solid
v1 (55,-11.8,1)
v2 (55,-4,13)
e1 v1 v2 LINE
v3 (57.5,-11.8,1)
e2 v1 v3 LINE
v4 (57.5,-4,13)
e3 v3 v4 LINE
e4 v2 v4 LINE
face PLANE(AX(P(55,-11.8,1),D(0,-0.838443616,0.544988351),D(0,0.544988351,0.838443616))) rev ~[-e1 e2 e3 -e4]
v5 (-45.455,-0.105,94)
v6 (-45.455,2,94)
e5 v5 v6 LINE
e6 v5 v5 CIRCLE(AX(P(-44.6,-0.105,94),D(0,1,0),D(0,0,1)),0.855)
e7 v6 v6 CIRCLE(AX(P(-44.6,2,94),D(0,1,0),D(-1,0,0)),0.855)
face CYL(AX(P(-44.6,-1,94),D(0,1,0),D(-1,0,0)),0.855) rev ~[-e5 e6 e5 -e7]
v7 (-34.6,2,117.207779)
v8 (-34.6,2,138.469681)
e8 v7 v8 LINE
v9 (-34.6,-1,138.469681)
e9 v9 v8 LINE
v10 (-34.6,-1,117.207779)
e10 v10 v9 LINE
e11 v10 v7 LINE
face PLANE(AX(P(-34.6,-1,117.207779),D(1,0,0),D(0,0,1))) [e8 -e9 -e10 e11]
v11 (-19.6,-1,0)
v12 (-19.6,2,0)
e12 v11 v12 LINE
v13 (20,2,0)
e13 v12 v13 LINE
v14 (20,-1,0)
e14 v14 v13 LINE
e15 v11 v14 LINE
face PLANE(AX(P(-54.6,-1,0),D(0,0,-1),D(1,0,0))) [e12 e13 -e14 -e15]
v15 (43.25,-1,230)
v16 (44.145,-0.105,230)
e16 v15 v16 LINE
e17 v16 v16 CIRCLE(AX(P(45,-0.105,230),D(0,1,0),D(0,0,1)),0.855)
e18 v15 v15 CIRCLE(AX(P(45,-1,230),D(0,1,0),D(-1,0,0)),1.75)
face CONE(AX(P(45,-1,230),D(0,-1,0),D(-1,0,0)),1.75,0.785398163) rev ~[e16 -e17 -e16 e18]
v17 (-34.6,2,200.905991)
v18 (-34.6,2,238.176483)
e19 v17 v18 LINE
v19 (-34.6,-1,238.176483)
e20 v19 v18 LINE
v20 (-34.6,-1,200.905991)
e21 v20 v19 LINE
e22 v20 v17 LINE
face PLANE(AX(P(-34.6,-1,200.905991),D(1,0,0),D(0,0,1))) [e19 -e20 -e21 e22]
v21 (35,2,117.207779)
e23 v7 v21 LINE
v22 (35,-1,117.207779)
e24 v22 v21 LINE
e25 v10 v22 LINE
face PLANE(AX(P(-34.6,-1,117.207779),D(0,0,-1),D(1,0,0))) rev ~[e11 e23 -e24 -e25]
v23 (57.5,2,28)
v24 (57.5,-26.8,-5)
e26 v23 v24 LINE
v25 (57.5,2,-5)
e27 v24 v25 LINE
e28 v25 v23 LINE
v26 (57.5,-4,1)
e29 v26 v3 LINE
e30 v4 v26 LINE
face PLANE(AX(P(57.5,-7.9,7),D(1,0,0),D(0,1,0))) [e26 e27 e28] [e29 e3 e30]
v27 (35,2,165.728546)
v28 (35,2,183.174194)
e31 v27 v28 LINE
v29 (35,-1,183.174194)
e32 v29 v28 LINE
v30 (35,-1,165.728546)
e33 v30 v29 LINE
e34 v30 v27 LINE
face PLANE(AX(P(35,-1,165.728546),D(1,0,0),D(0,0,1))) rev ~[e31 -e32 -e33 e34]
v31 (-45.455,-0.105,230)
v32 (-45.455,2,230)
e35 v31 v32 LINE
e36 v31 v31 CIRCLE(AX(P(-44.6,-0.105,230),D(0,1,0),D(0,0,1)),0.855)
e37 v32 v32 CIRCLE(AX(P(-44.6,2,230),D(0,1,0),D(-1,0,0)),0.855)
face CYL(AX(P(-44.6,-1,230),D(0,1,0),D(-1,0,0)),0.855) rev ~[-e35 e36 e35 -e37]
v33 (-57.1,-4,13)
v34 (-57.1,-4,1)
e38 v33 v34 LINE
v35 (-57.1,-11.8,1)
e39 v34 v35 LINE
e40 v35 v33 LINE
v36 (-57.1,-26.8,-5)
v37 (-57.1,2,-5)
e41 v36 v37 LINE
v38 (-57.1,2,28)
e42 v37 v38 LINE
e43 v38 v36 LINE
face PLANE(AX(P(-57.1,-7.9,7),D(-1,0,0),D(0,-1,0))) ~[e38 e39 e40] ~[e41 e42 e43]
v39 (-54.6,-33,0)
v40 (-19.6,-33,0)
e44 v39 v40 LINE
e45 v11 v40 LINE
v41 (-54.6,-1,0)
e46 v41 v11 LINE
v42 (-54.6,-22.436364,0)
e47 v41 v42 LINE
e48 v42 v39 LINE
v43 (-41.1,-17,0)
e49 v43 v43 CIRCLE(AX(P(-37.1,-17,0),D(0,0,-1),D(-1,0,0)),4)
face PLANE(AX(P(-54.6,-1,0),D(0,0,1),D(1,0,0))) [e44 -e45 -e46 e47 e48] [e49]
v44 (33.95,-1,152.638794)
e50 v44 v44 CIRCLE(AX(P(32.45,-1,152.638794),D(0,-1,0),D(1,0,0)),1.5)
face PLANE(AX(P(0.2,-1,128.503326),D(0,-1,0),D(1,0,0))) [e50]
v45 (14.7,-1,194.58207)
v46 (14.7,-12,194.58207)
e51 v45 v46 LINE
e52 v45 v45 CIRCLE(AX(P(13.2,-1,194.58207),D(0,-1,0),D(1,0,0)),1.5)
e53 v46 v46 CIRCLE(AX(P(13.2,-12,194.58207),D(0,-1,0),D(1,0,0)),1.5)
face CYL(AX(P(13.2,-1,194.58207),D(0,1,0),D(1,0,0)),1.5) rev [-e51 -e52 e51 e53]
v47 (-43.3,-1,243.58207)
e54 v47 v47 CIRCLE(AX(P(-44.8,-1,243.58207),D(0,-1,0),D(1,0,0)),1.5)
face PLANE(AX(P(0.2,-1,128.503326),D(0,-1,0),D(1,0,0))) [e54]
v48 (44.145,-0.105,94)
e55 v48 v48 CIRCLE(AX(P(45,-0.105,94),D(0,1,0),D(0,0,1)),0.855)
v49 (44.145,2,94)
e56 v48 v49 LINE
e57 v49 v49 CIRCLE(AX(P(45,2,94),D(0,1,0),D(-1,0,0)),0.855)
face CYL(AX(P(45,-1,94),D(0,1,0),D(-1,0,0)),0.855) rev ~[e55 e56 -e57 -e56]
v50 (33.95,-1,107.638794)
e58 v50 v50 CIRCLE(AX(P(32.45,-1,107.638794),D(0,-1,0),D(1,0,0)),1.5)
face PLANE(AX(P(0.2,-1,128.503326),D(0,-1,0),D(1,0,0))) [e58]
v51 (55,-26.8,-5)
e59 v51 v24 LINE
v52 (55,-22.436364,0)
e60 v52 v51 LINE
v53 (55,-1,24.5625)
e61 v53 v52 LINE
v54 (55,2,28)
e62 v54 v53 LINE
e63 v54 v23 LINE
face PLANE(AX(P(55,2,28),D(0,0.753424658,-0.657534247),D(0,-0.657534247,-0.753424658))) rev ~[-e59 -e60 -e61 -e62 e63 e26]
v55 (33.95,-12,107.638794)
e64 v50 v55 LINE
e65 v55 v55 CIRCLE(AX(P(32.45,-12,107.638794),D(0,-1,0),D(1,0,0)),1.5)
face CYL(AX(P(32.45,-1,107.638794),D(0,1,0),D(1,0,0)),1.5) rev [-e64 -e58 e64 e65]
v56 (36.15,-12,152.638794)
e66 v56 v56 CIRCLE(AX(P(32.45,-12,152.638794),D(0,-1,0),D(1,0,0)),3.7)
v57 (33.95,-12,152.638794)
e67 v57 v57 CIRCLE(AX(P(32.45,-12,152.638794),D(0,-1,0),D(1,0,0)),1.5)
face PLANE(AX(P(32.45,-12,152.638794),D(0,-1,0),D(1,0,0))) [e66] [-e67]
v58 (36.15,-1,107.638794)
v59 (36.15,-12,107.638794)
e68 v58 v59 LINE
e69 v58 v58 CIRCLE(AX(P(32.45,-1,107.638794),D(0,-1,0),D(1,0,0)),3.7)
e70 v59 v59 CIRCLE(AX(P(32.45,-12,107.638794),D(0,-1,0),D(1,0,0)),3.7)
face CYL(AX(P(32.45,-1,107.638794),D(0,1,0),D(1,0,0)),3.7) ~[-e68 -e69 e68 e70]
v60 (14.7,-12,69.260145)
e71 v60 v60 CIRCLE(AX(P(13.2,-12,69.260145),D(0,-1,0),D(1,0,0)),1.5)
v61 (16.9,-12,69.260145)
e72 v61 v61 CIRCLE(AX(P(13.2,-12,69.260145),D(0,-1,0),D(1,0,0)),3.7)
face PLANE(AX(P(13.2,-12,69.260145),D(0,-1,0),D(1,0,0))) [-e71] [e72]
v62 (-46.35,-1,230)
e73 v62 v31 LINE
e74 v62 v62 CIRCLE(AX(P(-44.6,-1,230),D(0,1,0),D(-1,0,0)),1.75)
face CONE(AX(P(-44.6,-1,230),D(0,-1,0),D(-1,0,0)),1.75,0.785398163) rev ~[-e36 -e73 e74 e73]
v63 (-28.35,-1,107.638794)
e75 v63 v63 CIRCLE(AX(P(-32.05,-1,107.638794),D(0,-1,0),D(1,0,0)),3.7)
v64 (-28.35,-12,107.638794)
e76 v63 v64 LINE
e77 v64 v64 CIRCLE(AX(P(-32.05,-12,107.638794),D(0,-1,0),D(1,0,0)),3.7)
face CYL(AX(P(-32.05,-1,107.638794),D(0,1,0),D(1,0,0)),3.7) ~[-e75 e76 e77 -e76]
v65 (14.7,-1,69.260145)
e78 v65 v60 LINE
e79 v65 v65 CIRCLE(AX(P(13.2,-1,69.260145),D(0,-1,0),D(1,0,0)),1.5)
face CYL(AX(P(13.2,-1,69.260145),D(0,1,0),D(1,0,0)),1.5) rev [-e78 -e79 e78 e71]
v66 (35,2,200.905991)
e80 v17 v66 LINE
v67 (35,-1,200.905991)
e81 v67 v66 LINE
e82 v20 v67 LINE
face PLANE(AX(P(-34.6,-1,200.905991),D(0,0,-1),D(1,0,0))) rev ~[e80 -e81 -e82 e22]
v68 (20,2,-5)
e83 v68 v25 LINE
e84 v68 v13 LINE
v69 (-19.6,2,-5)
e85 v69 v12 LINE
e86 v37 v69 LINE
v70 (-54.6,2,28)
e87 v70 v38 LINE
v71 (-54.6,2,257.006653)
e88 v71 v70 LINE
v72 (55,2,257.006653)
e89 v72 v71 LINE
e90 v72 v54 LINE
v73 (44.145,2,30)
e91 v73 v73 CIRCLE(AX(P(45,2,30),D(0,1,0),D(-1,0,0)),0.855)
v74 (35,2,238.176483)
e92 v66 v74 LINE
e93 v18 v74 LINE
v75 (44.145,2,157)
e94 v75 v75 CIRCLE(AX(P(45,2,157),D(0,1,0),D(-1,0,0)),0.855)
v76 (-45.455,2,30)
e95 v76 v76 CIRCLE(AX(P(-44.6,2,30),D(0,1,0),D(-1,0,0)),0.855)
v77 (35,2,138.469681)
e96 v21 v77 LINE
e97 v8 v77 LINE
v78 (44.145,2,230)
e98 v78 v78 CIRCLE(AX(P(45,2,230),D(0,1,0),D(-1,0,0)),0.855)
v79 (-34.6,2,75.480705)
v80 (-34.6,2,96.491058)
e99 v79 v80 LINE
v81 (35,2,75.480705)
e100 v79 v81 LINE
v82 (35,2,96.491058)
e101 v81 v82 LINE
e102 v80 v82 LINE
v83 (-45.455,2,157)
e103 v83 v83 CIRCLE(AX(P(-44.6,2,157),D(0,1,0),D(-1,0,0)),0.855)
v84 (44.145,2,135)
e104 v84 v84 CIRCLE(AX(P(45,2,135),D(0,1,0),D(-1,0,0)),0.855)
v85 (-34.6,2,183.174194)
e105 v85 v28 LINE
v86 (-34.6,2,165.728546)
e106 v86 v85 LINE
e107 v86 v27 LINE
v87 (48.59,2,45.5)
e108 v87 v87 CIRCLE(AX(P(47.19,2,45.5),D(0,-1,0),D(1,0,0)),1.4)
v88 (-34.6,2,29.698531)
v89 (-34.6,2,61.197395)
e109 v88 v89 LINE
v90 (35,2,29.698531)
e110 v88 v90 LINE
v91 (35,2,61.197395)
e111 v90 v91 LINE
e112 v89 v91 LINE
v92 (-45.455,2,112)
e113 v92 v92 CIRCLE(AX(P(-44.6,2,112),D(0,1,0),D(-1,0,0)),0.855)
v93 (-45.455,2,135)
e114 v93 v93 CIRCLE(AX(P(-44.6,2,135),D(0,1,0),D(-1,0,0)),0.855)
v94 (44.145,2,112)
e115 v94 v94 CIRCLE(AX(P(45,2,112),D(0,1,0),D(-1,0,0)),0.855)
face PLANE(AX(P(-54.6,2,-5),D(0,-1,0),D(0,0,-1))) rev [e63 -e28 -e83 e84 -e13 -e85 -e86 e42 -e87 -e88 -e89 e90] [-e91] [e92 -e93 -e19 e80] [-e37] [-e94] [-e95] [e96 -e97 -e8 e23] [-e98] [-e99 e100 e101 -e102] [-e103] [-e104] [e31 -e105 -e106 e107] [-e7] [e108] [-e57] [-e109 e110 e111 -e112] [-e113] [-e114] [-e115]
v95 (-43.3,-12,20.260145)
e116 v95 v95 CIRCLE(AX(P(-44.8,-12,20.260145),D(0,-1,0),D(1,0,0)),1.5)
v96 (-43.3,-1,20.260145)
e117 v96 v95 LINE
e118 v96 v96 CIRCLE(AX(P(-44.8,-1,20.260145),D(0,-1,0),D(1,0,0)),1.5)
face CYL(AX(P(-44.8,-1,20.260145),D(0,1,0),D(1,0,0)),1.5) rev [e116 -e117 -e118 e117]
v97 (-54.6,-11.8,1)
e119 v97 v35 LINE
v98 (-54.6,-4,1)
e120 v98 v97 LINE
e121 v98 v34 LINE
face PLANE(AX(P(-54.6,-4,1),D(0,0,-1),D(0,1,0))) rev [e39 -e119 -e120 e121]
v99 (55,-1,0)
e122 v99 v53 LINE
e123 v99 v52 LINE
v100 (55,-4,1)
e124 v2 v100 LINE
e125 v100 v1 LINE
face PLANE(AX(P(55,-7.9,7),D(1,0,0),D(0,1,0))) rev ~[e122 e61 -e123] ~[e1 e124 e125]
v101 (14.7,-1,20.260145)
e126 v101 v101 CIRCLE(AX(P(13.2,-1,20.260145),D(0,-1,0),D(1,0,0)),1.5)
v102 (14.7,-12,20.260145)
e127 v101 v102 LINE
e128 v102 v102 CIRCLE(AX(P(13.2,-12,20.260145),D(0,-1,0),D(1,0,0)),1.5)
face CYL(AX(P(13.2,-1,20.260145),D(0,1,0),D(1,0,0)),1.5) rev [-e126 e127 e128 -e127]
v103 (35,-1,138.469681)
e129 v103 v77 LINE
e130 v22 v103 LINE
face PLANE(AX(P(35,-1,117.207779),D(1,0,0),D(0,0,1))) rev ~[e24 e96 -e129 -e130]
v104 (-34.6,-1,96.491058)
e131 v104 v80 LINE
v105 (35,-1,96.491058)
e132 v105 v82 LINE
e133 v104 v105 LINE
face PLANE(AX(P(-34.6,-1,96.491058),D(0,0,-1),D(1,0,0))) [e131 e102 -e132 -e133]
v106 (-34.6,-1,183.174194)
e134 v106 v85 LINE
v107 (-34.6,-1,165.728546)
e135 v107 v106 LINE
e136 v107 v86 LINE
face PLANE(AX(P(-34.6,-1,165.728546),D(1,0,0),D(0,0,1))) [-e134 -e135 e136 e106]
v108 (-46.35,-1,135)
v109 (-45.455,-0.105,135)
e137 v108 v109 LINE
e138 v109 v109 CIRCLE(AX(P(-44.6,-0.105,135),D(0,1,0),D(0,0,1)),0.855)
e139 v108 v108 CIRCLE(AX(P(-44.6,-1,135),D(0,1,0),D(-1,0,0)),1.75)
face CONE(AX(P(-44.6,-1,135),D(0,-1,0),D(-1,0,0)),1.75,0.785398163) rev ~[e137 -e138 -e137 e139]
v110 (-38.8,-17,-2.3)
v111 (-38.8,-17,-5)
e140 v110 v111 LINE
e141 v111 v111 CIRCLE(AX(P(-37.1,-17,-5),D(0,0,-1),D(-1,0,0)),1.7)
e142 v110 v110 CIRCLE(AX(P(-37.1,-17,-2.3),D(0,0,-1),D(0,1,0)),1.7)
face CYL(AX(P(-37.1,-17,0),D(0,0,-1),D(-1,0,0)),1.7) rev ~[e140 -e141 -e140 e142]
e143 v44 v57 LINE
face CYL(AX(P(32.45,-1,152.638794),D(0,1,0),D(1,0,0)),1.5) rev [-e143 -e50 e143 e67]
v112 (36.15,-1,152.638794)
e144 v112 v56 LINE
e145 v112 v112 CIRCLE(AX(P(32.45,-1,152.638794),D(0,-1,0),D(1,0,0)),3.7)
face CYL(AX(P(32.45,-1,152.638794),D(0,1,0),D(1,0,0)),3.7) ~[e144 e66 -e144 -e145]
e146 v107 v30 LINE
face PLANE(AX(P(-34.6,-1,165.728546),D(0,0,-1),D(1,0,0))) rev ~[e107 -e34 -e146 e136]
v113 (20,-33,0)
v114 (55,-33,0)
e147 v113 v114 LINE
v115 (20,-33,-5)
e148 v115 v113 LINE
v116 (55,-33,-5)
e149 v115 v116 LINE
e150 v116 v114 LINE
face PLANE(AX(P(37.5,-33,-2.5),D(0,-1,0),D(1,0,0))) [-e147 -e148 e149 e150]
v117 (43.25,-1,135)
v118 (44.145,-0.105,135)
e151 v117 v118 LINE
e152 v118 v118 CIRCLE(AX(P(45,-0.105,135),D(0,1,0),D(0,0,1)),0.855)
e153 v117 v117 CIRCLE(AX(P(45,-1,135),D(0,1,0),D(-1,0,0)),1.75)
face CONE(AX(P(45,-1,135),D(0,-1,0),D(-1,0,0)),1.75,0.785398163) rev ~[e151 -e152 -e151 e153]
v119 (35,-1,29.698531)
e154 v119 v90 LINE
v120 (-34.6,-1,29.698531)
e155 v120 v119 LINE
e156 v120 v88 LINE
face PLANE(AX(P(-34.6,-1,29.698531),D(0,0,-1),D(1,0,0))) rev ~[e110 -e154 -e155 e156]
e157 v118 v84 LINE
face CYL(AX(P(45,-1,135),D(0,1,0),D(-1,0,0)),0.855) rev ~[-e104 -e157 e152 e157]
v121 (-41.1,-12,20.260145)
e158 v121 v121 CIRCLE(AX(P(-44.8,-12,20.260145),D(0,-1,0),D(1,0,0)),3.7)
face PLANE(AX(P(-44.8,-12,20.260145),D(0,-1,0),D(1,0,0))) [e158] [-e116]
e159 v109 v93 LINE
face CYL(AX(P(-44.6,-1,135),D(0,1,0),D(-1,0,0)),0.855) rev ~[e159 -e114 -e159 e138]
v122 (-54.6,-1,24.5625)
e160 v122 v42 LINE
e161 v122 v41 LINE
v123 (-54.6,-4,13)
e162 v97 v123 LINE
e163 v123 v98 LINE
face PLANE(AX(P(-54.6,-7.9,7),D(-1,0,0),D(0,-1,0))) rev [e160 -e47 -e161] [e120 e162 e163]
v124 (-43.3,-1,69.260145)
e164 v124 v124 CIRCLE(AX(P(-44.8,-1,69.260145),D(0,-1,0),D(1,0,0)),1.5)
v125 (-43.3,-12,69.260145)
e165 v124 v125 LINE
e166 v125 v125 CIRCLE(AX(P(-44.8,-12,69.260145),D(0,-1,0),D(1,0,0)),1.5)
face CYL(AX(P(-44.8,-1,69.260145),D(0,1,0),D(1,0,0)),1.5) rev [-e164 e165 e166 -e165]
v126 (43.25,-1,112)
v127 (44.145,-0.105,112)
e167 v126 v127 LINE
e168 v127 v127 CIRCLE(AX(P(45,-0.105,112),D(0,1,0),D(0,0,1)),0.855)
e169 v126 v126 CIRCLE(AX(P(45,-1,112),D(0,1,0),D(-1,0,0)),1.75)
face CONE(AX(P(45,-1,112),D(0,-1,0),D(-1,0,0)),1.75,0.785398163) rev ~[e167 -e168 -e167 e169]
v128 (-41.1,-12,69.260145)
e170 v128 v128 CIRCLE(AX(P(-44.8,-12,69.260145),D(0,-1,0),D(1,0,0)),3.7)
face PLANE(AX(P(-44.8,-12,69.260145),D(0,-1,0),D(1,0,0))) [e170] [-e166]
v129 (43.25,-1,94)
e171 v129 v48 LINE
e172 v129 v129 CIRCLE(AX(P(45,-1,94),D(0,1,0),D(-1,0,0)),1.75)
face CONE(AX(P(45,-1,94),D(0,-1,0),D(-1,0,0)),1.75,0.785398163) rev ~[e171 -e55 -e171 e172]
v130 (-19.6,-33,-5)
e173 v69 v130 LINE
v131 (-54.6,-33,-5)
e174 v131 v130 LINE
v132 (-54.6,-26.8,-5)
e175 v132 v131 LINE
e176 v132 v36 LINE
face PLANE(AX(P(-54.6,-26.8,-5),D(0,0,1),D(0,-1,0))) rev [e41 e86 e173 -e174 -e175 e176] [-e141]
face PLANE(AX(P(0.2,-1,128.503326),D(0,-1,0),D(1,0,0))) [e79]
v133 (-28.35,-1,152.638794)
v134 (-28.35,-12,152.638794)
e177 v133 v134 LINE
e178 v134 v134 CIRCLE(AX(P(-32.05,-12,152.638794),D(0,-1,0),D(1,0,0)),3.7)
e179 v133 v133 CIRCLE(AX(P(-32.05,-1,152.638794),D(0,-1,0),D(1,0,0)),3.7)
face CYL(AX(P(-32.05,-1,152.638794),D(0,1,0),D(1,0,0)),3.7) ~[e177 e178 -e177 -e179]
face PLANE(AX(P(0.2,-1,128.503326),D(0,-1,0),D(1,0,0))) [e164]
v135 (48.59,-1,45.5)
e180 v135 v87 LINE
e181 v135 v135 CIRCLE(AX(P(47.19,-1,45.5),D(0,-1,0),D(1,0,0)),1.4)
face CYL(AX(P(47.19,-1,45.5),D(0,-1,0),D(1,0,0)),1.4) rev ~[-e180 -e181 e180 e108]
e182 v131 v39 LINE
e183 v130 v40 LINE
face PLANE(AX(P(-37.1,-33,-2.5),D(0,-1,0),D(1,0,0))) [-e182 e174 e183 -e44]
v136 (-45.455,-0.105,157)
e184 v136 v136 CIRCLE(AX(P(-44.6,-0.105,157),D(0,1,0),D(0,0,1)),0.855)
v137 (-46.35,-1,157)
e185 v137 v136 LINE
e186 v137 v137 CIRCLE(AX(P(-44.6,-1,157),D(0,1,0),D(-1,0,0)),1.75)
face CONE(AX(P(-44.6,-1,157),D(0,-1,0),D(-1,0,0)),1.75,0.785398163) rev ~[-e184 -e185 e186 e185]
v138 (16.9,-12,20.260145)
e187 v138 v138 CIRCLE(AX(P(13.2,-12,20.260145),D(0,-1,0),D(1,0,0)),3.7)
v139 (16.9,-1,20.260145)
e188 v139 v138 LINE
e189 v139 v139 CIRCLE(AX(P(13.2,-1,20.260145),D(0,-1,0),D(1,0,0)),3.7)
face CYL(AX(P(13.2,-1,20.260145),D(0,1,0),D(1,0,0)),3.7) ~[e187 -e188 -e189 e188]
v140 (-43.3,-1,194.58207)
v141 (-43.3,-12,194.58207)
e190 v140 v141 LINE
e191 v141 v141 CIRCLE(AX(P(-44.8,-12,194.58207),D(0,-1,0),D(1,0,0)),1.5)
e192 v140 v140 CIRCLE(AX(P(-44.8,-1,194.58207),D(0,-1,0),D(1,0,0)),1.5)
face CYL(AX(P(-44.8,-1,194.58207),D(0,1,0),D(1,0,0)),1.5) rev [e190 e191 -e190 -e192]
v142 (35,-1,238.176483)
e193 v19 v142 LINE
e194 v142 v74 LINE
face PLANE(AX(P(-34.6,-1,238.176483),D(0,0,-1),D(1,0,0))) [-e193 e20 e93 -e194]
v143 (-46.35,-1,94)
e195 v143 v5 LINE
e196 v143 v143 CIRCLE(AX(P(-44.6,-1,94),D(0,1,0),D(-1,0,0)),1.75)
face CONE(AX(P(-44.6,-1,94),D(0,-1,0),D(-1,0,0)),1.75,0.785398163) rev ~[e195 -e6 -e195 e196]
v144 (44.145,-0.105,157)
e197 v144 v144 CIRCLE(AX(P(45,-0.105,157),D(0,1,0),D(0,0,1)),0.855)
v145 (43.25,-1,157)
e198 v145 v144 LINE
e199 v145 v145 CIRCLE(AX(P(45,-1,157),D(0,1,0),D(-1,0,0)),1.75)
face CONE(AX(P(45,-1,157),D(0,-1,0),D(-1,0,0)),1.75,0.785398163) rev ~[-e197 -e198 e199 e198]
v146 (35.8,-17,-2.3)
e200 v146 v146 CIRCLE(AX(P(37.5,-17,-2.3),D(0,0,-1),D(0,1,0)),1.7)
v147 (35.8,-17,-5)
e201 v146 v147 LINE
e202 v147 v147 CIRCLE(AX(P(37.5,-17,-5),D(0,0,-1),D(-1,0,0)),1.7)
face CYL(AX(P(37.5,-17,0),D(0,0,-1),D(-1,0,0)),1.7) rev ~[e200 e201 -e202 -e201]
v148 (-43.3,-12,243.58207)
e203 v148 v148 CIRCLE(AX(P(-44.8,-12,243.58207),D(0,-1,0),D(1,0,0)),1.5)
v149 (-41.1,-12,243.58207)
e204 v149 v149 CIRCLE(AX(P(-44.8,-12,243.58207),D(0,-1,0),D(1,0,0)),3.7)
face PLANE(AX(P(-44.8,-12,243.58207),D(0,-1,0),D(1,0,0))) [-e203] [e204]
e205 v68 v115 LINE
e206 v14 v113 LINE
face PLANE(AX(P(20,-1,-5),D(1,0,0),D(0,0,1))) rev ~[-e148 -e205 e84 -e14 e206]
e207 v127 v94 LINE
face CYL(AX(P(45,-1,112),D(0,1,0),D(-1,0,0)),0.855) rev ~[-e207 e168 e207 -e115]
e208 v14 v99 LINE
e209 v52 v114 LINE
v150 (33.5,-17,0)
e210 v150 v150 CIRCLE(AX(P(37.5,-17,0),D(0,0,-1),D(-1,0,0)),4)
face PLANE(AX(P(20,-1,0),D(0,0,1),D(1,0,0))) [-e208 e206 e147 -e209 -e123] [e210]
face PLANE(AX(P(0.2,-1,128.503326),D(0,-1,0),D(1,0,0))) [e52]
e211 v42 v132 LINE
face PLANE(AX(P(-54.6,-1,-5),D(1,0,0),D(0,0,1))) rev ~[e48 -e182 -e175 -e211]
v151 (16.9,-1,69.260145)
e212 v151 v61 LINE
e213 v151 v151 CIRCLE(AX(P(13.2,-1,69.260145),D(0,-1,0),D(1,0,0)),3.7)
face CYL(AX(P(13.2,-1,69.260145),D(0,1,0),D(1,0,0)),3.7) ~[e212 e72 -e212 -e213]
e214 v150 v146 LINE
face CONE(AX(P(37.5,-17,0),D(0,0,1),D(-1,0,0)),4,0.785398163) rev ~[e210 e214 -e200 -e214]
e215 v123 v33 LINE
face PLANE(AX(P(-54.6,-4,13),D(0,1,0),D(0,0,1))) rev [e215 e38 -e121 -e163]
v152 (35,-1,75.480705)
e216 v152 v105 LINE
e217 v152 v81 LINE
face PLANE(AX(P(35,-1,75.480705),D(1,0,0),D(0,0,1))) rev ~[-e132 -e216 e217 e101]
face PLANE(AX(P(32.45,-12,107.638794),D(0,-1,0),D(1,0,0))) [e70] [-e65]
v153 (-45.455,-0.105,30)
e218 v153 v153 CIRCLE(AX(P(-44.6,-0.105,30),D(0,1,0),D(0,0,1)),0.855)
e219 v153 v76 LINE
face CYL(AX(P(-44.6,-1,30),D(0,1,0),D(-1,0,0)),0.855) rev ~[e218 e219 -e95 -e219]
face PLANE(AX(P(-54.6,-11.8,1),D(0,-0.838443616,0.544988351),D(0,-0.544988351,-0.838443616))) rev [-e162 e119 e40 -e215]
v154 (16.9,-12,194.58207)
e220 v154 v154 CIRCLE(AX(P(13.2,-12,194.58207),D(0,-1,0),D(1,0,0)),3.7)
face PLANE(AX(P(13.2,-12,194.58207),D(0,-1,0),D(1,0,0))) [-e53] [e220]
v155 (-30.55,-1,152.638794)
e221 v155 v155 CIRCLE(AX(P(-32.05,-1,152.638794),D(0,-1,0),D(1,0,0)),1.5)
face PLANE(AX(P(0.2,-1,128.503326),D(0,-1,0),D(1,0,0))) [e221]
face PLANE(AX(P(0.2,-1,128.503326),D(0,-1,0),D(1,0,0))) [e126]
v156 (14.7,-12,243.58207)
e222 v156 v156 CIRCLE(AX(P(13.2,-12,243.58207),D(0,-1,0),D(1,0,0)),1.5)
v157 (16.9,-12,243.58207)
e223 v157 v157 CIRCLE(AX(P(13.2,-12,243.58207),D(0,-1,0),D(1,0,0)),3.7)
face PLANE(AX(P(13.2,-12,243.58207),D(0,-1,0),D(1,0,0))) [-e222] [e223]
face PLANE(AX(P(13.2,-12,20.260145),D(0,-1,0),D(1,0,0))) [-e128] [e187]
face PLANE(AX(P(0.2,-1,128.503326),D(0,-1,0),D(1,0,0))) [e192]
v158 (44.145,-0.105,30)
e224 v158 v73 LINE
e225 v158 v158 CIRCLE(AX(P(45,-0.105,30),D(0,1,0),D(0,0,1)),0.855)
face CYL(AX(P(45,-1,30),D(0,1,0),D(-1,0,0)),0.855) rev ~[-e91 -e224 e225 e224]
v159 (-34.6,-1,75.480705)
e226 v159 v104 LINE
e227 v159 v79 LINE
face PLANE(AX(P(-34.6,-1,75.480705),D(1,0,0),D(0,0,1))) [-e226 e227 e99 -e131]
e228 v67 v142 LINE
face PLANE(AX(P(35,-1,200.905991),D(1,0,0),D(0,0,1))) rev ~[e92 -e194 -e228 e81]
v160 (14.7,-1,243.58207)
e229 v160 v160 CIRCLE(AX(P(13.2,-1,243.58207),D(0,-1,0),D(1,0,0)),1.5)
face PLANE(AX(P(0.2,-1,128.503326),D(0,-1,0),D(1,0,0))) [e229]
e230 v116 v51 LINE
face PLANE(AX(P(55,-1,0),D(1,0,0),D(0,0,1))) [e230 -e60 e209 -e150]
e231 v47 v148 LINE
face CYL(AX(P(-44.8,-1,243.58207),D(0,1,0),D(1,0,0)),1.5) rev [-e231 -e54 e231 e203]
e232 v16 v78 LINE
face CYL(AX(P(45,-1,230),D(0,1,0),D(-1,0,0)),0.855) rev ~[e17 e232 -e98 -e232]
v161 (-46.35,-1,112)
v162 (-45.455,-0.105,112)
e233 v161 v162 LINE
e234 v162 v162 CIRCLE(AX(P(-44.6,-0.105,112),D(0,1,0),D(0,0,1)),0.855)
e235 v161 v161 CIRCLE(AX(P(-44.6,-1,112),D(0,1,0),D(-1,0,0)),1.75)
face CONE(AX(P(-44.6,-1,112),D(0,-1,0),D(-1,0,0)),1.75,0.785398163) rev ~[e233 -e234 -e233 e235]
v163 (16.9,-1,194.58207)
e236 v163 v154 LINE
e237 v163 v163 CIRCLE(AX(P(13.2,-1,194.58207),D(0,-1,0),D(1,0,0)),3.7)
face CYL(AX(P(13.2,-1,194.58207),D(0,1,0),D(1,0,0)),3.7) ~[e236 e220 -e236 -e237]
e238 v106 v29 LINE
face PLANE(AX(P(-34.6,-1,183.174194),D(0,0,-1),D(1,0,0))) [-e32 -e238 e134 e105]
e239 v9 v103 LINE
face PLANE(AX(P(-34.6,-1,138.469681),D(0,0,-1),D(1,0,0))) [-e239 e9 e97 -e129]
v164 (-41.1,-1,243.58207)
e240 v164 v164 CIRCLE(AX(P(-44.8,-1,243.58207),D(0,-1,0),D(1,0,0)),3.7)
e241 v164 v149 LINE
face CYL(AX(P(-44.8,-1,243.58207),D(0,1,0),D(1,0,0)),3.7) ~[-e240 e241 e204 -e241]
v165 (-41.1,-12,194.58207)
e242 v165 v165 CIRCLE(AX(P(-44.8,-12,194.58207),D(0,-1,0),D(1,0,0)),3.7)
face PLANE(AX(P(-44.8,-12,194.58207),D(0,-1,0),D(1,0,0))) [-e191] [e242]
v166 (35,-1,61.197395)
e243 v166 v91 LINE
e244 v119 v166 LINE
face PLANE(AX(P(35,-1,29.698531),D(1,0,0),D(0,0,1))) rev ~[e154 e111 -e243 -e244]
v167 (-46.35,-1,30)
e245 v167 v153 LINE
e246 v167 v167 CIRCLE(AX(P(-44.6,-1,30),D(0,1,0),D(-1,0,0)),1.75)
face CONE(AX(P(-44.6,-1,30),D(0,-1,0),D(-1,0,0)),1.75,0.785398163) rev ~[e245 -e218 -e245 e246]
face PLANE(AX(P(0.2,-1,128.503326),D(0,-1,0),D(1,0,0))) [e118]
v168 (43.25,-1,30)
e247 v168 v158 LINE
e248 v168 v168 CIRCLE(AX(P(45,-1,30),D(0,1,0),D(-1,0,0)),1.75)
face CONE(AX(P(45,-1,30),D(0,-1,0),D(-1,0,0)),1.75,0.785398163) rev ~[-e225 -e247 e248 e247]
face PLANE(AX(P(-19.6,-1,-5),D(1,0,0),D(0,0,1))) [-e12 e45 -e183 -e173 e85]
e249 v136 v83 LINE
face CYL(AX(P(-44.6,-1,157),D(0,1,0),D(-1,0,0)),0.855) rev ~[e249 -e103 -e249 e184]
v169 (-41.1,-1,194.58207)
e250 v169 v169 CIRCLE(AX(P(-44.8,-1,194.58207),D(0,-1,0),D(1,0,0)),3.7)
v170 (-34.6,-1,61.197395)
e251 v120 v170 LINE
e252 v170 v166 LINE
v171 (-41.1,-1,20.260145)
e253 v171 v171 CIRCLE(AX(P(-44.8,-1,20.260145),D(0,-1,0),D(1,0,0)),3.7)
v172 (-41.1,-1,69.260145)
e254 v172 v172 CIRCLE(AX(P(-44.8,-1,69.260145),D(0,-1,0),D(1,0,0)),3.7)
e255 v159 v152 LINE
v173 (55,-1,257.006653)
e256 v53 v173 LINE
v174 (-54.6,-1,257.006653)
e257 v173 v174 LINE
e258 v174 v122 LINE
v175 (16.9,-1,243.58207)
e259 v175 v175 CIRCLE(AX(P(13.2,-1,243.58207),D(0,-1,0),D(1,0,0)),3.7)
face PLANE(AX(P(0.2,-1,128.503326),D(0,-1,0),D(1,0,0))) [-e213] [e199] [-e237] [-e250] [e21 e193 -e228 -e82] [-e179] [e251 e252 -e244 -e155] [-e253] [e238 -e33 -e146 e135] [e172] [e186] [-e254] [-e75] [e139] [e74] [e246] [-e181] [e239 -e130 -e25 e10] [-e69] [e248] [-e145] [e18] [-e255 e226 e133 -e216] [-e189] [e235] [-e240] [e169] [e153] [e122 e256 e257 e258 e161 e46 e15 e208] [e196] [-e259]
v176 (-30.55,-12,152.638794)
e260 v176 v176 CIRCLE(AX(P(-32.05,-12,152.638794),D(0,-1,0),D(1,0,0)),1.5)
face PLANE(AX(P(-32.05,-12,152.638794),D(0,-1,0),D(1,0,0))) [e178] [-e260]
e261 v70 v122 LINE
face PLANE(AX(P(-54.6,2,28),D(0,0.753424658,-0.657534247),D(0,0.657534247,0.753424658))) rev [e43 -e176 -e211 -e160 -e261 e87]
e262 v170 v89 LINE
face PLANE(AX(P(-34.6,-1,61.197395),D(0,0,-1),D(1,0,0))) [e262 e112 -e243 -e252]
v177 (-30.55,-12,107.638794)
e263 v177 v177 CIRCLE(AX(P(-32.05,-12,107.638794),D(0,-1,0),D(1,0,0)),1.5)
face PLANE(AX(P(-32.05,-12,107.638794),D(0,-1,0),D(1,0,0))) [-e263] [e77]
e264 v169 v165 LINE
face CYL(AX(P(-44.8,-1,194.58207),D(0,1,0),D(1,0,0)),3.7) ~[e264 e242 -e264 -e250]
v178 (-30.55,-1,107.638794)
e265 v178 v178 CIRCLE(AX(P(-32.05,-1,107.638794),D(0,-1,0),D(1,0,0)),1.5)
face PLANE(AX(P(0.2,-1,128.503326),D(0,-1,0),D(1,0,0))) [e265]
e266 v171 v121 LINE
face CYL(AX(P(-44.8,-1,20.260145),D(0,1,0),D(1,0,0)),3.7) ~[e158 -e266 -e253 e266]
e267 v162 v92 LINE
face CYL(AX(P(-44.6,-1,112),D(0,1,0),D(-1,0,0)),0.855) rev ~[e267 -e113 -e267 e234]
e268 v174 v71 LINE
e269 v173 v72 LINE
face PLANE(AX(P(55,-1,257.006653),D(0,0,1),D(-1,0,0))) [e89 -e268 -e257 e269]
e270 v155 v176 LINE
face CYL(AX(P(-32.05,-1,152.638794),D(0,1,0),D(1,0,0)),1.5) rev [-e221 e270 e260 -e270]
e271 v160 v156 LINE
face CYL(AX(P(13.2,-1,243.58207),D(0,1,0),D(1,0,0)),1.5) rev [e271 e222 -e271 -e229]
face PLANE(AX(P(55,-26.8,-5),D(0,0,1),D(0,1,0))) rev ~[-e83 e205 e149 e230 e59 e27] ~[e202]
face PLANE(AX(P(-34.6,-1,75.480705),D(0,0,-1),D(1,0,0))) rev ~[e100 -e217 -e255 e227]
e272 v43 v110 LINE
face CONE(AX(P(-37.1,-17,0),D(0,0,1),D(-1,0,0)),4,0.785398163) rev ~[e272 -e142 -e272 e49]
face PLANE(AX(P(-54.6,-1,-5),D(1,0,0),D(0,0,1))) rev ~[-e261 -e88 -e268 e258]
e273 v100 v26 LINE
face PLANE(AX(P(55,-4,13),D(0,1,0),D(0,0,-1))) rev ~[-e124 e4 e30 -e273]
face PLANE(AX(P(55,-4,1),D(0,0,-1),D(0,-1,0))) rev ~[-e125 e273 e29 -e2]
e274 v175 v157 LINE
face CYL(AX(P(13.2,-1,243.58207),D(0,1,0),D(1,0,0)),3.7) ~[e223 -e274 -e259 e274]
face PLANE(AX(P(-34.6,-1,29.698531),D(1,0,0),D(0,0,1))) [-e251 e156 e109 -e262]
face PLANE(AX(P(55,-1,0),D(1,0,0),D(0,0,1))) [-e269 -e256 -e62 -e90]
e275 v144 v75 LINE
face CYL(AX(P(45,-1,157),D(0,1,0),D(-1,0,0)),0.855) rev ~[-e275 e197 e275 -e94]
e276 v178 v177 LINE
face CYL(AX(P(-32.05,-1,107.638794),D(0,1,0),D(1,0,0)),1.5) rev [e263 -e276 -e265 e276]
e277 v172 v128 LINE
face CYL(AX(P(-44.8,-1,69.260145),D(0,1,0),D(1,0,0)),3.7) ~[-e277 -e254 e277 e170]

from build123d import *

# Parameters (mm, degrees)
SKETCH_R            = 1.4
SKETCH_W            = 69.6
SKETCH_H            = 21.261902
SKETCH_H_2          = 37.270492
SKETCH_H_3          = 17.445648
SKETCH_H_4          = 21.010353
SKETCH_H_5          = 31.498865
PAD_DEPTH           = 3
SKETCH001_R         = 3.7
SKETCH001_R_2       = 1.5
PAD001_DEPTH        = 11
SKETCH002_W         = 35
SKETCH002_H         = 5
PAD002_DEPTH        = 32
PAD002_DEPTH_BACK   = 3
HOLE_D              = 3.4
HOLE_DEPTH          = 25
HOLE_CSINK_D        = 8
HOLE_CSINK_ANGLE    = 90
PAD003_DEPTH        = 2.5
HOLE002_D           = 1.71
HOLE002_DEPTH       = 25
HOLE002_CSINK_D     = 3.5
HOLE002_CSINK_ANGLE = 90


with BuildPart() as part:
    # Sketch → Pad (new body)
    with BuildSketch(Plane.XZ):
        Polygon((-54.8, 257.006653), (-54.8, 20.406653), (-54.8, 0), (54.8, 0), (54.8, 20.406653), (54.8, 257.006653), align=None)
        with Locations((46.99, 45.5)):
            Circle(SKETCH_R, mode=Mode.SUBTRACT)
        with Locations((0, 127.83873)):
            Rectangle(SKETCH_W, SKETCH_H, mode=Mode.SUBTRACT)
        with Locations((0, 219.541237)):
            Rectangle(SKETCH_W, SKETCH_H_2, mode=Mode.SUBTRACT)
        with Locations((0, 174.45137)):
            Rectangle(SKETCH_W, SKETCH_H_3, mode=Mode.SUBTRACT)
        with Locations((0, 85.985882)):
            Rectangle(SKETCH_W, SKETCH_H_4, mode=Mode.SUBTRACT)
        with Locations((0, 45.447963)):
            Rectangle(SKETCH_W, SKETCH_H_5, mode=Mode.SUBTRACT)
    extrude(amount=-PAD_DEPTH)

    # Sketch001 → Pad001 (join)
    with BuildSketch(Plane.XZ):
        with Locations((-45, 243.58207)):
            Circle(SKETCH001_R)
        with Locations((-45, 243.58207)):
            Circle(SKETCH001_R_2, mode=Mode.SUBTRACT)
        with Locations((13, 243.58207)):
            Circle(SKETCH001_R)
        with Locations((13, 243.58207)):
            Circle(SKETCH001_R_2, mode=Mode.SUBTRACT)
        with Locations((-45, 194.58207)):
            Circle(SKETCH001_R)
        with Locations((-45, 194.58207)):
            Circle(SKETCH001_R_2, mode=Mode.SUBTRACT)
        with Locations((13, 194.58207)):
            Circle(SKETCH001_R)
        with Locations((13, 194.58207)):
            Circle(SKETCH001_R_2, mode=Mode.SUBTRACT)
        with Locations((-45, 69.260145)):
            Circle(SKETCH001_R)
        with Locations((-45, 69.260145)):
            Circle(SKETCH001_R_2, mode=Mode.SUBTRACT)
        with Locations((-45, 20.260145)):
            Circle(SKETCH001_R)
        with Locations((-45, 20.260145)):
            Circle(SKETCH001_R_2, mode=Mode.SUBTRACT)
        with Locations((13, 20.260145)):
            Circle(SKETCH001_R)
        with Locations((13, 20.260145)):
            Circle(SKETCH001_R_2, mode=Mode.SUBTRACT)
        with Locations((13, 69.260145)):
            Circle(SKETCH001_R)
        with Locations((13, 69.260145)):
            Circle(SKETCH001_R_2, mode=Mode.SUBTRACT)
        with Locations((-32.25, 107.638794)):
            Circle(SKETCH001_R)
        with Locations((-32.25, 107.638794)):
            Circle(SKETCH001_R_2, mode=Mode.SUBTRACT)
        with Locations((32.25, 107.638794)):
            Circle(SKETCH001_R)
        with Locations((32.25, 107.638794)):
            Circle(SKETCH001_R_2, mode=Mode.SUBTRACT)
        with Locations((32.25, 152.638794)):
            Circle(SKETCH001_R)
        with Locations((32.25, 152.638794)):
            Circle(SKETCH001_R_2, mode=Mode.SUBTRACT)
        with Locations((-32.25, 152.638794)):
            Circle(SKETCH001_R)
        with Locations((-32.25, 152.638794)):
            Circle(SKETCH001_R_2, mode=Mode.SUBTRACT)
    extrude(amount=PAD001_DEPTH)

    # Sketch002 → Pad002 (join, two sides)
    with BuildSketch(Plane.XZ) as pad002_sk:
        with Locations((-37.3, -2.5)):
            Rectangle(SKETCH002_W, SKETCH002_H)
        with Locations((37.3, -2.5)):
            Rectangle(SKETCH002_W, SKETCH002_H)
    extrude(amount=PAD002_DEPTH)
    extrude(pad002_sk.sketch, amount=-PAD002_DEPTH_BACK)

    # Hole
    with Locations(Plane.XY):
        with Locations((-37.3, -16), (37.3, -16)):
            CounterSinkHole(HOLE_D / 2, HOLE_CSINK_D / 2, depth=HOLE_DEPTH, counter_sink_angle=HOLE_CSINK_ANGLE)

    # Sketch004 (on DatumPlane) → Pad003 (join)
    with BuildSketch(Plane.YZ.offset(54.8)):
        Polygon((-25.8, -5), (3, -5), (3, 28), align=None)
        Polygon((-10.8, 1), (-3, 13), (-3, 1), align=None, mode=Mode.SUBTRACT)
    pad003 = extrude(amount=PAD003_DEPTH)

    # Mirrored: Pad003 across YZ
    add(pad003.mirror(Plane.YZ))

    # Hole002
    with Locations(Plane.XZ):
        with Locations((44.8, 157), (-44.8, 135), (44.8, 135), (-44.8, 112), (-44.8, 94), (44.8, 112), (44.8, 94), (-44.8, 30), (44.8, 30), (-44.8, 157), (-44.8, 230), (44.8, 230)):
            CounterSinkHole(HOLE002_D / 2, HOLE002_CSINK_D / 2, depth=HOLE002_DEPTH, counter_sink_angle=HOLE002_CSINK_ANGLE)


with BuildPart() as part_1:
    # Body placement: moved
    add(part.part.moved(Location((0.2, -1, 0))))


solid = part_1.part
